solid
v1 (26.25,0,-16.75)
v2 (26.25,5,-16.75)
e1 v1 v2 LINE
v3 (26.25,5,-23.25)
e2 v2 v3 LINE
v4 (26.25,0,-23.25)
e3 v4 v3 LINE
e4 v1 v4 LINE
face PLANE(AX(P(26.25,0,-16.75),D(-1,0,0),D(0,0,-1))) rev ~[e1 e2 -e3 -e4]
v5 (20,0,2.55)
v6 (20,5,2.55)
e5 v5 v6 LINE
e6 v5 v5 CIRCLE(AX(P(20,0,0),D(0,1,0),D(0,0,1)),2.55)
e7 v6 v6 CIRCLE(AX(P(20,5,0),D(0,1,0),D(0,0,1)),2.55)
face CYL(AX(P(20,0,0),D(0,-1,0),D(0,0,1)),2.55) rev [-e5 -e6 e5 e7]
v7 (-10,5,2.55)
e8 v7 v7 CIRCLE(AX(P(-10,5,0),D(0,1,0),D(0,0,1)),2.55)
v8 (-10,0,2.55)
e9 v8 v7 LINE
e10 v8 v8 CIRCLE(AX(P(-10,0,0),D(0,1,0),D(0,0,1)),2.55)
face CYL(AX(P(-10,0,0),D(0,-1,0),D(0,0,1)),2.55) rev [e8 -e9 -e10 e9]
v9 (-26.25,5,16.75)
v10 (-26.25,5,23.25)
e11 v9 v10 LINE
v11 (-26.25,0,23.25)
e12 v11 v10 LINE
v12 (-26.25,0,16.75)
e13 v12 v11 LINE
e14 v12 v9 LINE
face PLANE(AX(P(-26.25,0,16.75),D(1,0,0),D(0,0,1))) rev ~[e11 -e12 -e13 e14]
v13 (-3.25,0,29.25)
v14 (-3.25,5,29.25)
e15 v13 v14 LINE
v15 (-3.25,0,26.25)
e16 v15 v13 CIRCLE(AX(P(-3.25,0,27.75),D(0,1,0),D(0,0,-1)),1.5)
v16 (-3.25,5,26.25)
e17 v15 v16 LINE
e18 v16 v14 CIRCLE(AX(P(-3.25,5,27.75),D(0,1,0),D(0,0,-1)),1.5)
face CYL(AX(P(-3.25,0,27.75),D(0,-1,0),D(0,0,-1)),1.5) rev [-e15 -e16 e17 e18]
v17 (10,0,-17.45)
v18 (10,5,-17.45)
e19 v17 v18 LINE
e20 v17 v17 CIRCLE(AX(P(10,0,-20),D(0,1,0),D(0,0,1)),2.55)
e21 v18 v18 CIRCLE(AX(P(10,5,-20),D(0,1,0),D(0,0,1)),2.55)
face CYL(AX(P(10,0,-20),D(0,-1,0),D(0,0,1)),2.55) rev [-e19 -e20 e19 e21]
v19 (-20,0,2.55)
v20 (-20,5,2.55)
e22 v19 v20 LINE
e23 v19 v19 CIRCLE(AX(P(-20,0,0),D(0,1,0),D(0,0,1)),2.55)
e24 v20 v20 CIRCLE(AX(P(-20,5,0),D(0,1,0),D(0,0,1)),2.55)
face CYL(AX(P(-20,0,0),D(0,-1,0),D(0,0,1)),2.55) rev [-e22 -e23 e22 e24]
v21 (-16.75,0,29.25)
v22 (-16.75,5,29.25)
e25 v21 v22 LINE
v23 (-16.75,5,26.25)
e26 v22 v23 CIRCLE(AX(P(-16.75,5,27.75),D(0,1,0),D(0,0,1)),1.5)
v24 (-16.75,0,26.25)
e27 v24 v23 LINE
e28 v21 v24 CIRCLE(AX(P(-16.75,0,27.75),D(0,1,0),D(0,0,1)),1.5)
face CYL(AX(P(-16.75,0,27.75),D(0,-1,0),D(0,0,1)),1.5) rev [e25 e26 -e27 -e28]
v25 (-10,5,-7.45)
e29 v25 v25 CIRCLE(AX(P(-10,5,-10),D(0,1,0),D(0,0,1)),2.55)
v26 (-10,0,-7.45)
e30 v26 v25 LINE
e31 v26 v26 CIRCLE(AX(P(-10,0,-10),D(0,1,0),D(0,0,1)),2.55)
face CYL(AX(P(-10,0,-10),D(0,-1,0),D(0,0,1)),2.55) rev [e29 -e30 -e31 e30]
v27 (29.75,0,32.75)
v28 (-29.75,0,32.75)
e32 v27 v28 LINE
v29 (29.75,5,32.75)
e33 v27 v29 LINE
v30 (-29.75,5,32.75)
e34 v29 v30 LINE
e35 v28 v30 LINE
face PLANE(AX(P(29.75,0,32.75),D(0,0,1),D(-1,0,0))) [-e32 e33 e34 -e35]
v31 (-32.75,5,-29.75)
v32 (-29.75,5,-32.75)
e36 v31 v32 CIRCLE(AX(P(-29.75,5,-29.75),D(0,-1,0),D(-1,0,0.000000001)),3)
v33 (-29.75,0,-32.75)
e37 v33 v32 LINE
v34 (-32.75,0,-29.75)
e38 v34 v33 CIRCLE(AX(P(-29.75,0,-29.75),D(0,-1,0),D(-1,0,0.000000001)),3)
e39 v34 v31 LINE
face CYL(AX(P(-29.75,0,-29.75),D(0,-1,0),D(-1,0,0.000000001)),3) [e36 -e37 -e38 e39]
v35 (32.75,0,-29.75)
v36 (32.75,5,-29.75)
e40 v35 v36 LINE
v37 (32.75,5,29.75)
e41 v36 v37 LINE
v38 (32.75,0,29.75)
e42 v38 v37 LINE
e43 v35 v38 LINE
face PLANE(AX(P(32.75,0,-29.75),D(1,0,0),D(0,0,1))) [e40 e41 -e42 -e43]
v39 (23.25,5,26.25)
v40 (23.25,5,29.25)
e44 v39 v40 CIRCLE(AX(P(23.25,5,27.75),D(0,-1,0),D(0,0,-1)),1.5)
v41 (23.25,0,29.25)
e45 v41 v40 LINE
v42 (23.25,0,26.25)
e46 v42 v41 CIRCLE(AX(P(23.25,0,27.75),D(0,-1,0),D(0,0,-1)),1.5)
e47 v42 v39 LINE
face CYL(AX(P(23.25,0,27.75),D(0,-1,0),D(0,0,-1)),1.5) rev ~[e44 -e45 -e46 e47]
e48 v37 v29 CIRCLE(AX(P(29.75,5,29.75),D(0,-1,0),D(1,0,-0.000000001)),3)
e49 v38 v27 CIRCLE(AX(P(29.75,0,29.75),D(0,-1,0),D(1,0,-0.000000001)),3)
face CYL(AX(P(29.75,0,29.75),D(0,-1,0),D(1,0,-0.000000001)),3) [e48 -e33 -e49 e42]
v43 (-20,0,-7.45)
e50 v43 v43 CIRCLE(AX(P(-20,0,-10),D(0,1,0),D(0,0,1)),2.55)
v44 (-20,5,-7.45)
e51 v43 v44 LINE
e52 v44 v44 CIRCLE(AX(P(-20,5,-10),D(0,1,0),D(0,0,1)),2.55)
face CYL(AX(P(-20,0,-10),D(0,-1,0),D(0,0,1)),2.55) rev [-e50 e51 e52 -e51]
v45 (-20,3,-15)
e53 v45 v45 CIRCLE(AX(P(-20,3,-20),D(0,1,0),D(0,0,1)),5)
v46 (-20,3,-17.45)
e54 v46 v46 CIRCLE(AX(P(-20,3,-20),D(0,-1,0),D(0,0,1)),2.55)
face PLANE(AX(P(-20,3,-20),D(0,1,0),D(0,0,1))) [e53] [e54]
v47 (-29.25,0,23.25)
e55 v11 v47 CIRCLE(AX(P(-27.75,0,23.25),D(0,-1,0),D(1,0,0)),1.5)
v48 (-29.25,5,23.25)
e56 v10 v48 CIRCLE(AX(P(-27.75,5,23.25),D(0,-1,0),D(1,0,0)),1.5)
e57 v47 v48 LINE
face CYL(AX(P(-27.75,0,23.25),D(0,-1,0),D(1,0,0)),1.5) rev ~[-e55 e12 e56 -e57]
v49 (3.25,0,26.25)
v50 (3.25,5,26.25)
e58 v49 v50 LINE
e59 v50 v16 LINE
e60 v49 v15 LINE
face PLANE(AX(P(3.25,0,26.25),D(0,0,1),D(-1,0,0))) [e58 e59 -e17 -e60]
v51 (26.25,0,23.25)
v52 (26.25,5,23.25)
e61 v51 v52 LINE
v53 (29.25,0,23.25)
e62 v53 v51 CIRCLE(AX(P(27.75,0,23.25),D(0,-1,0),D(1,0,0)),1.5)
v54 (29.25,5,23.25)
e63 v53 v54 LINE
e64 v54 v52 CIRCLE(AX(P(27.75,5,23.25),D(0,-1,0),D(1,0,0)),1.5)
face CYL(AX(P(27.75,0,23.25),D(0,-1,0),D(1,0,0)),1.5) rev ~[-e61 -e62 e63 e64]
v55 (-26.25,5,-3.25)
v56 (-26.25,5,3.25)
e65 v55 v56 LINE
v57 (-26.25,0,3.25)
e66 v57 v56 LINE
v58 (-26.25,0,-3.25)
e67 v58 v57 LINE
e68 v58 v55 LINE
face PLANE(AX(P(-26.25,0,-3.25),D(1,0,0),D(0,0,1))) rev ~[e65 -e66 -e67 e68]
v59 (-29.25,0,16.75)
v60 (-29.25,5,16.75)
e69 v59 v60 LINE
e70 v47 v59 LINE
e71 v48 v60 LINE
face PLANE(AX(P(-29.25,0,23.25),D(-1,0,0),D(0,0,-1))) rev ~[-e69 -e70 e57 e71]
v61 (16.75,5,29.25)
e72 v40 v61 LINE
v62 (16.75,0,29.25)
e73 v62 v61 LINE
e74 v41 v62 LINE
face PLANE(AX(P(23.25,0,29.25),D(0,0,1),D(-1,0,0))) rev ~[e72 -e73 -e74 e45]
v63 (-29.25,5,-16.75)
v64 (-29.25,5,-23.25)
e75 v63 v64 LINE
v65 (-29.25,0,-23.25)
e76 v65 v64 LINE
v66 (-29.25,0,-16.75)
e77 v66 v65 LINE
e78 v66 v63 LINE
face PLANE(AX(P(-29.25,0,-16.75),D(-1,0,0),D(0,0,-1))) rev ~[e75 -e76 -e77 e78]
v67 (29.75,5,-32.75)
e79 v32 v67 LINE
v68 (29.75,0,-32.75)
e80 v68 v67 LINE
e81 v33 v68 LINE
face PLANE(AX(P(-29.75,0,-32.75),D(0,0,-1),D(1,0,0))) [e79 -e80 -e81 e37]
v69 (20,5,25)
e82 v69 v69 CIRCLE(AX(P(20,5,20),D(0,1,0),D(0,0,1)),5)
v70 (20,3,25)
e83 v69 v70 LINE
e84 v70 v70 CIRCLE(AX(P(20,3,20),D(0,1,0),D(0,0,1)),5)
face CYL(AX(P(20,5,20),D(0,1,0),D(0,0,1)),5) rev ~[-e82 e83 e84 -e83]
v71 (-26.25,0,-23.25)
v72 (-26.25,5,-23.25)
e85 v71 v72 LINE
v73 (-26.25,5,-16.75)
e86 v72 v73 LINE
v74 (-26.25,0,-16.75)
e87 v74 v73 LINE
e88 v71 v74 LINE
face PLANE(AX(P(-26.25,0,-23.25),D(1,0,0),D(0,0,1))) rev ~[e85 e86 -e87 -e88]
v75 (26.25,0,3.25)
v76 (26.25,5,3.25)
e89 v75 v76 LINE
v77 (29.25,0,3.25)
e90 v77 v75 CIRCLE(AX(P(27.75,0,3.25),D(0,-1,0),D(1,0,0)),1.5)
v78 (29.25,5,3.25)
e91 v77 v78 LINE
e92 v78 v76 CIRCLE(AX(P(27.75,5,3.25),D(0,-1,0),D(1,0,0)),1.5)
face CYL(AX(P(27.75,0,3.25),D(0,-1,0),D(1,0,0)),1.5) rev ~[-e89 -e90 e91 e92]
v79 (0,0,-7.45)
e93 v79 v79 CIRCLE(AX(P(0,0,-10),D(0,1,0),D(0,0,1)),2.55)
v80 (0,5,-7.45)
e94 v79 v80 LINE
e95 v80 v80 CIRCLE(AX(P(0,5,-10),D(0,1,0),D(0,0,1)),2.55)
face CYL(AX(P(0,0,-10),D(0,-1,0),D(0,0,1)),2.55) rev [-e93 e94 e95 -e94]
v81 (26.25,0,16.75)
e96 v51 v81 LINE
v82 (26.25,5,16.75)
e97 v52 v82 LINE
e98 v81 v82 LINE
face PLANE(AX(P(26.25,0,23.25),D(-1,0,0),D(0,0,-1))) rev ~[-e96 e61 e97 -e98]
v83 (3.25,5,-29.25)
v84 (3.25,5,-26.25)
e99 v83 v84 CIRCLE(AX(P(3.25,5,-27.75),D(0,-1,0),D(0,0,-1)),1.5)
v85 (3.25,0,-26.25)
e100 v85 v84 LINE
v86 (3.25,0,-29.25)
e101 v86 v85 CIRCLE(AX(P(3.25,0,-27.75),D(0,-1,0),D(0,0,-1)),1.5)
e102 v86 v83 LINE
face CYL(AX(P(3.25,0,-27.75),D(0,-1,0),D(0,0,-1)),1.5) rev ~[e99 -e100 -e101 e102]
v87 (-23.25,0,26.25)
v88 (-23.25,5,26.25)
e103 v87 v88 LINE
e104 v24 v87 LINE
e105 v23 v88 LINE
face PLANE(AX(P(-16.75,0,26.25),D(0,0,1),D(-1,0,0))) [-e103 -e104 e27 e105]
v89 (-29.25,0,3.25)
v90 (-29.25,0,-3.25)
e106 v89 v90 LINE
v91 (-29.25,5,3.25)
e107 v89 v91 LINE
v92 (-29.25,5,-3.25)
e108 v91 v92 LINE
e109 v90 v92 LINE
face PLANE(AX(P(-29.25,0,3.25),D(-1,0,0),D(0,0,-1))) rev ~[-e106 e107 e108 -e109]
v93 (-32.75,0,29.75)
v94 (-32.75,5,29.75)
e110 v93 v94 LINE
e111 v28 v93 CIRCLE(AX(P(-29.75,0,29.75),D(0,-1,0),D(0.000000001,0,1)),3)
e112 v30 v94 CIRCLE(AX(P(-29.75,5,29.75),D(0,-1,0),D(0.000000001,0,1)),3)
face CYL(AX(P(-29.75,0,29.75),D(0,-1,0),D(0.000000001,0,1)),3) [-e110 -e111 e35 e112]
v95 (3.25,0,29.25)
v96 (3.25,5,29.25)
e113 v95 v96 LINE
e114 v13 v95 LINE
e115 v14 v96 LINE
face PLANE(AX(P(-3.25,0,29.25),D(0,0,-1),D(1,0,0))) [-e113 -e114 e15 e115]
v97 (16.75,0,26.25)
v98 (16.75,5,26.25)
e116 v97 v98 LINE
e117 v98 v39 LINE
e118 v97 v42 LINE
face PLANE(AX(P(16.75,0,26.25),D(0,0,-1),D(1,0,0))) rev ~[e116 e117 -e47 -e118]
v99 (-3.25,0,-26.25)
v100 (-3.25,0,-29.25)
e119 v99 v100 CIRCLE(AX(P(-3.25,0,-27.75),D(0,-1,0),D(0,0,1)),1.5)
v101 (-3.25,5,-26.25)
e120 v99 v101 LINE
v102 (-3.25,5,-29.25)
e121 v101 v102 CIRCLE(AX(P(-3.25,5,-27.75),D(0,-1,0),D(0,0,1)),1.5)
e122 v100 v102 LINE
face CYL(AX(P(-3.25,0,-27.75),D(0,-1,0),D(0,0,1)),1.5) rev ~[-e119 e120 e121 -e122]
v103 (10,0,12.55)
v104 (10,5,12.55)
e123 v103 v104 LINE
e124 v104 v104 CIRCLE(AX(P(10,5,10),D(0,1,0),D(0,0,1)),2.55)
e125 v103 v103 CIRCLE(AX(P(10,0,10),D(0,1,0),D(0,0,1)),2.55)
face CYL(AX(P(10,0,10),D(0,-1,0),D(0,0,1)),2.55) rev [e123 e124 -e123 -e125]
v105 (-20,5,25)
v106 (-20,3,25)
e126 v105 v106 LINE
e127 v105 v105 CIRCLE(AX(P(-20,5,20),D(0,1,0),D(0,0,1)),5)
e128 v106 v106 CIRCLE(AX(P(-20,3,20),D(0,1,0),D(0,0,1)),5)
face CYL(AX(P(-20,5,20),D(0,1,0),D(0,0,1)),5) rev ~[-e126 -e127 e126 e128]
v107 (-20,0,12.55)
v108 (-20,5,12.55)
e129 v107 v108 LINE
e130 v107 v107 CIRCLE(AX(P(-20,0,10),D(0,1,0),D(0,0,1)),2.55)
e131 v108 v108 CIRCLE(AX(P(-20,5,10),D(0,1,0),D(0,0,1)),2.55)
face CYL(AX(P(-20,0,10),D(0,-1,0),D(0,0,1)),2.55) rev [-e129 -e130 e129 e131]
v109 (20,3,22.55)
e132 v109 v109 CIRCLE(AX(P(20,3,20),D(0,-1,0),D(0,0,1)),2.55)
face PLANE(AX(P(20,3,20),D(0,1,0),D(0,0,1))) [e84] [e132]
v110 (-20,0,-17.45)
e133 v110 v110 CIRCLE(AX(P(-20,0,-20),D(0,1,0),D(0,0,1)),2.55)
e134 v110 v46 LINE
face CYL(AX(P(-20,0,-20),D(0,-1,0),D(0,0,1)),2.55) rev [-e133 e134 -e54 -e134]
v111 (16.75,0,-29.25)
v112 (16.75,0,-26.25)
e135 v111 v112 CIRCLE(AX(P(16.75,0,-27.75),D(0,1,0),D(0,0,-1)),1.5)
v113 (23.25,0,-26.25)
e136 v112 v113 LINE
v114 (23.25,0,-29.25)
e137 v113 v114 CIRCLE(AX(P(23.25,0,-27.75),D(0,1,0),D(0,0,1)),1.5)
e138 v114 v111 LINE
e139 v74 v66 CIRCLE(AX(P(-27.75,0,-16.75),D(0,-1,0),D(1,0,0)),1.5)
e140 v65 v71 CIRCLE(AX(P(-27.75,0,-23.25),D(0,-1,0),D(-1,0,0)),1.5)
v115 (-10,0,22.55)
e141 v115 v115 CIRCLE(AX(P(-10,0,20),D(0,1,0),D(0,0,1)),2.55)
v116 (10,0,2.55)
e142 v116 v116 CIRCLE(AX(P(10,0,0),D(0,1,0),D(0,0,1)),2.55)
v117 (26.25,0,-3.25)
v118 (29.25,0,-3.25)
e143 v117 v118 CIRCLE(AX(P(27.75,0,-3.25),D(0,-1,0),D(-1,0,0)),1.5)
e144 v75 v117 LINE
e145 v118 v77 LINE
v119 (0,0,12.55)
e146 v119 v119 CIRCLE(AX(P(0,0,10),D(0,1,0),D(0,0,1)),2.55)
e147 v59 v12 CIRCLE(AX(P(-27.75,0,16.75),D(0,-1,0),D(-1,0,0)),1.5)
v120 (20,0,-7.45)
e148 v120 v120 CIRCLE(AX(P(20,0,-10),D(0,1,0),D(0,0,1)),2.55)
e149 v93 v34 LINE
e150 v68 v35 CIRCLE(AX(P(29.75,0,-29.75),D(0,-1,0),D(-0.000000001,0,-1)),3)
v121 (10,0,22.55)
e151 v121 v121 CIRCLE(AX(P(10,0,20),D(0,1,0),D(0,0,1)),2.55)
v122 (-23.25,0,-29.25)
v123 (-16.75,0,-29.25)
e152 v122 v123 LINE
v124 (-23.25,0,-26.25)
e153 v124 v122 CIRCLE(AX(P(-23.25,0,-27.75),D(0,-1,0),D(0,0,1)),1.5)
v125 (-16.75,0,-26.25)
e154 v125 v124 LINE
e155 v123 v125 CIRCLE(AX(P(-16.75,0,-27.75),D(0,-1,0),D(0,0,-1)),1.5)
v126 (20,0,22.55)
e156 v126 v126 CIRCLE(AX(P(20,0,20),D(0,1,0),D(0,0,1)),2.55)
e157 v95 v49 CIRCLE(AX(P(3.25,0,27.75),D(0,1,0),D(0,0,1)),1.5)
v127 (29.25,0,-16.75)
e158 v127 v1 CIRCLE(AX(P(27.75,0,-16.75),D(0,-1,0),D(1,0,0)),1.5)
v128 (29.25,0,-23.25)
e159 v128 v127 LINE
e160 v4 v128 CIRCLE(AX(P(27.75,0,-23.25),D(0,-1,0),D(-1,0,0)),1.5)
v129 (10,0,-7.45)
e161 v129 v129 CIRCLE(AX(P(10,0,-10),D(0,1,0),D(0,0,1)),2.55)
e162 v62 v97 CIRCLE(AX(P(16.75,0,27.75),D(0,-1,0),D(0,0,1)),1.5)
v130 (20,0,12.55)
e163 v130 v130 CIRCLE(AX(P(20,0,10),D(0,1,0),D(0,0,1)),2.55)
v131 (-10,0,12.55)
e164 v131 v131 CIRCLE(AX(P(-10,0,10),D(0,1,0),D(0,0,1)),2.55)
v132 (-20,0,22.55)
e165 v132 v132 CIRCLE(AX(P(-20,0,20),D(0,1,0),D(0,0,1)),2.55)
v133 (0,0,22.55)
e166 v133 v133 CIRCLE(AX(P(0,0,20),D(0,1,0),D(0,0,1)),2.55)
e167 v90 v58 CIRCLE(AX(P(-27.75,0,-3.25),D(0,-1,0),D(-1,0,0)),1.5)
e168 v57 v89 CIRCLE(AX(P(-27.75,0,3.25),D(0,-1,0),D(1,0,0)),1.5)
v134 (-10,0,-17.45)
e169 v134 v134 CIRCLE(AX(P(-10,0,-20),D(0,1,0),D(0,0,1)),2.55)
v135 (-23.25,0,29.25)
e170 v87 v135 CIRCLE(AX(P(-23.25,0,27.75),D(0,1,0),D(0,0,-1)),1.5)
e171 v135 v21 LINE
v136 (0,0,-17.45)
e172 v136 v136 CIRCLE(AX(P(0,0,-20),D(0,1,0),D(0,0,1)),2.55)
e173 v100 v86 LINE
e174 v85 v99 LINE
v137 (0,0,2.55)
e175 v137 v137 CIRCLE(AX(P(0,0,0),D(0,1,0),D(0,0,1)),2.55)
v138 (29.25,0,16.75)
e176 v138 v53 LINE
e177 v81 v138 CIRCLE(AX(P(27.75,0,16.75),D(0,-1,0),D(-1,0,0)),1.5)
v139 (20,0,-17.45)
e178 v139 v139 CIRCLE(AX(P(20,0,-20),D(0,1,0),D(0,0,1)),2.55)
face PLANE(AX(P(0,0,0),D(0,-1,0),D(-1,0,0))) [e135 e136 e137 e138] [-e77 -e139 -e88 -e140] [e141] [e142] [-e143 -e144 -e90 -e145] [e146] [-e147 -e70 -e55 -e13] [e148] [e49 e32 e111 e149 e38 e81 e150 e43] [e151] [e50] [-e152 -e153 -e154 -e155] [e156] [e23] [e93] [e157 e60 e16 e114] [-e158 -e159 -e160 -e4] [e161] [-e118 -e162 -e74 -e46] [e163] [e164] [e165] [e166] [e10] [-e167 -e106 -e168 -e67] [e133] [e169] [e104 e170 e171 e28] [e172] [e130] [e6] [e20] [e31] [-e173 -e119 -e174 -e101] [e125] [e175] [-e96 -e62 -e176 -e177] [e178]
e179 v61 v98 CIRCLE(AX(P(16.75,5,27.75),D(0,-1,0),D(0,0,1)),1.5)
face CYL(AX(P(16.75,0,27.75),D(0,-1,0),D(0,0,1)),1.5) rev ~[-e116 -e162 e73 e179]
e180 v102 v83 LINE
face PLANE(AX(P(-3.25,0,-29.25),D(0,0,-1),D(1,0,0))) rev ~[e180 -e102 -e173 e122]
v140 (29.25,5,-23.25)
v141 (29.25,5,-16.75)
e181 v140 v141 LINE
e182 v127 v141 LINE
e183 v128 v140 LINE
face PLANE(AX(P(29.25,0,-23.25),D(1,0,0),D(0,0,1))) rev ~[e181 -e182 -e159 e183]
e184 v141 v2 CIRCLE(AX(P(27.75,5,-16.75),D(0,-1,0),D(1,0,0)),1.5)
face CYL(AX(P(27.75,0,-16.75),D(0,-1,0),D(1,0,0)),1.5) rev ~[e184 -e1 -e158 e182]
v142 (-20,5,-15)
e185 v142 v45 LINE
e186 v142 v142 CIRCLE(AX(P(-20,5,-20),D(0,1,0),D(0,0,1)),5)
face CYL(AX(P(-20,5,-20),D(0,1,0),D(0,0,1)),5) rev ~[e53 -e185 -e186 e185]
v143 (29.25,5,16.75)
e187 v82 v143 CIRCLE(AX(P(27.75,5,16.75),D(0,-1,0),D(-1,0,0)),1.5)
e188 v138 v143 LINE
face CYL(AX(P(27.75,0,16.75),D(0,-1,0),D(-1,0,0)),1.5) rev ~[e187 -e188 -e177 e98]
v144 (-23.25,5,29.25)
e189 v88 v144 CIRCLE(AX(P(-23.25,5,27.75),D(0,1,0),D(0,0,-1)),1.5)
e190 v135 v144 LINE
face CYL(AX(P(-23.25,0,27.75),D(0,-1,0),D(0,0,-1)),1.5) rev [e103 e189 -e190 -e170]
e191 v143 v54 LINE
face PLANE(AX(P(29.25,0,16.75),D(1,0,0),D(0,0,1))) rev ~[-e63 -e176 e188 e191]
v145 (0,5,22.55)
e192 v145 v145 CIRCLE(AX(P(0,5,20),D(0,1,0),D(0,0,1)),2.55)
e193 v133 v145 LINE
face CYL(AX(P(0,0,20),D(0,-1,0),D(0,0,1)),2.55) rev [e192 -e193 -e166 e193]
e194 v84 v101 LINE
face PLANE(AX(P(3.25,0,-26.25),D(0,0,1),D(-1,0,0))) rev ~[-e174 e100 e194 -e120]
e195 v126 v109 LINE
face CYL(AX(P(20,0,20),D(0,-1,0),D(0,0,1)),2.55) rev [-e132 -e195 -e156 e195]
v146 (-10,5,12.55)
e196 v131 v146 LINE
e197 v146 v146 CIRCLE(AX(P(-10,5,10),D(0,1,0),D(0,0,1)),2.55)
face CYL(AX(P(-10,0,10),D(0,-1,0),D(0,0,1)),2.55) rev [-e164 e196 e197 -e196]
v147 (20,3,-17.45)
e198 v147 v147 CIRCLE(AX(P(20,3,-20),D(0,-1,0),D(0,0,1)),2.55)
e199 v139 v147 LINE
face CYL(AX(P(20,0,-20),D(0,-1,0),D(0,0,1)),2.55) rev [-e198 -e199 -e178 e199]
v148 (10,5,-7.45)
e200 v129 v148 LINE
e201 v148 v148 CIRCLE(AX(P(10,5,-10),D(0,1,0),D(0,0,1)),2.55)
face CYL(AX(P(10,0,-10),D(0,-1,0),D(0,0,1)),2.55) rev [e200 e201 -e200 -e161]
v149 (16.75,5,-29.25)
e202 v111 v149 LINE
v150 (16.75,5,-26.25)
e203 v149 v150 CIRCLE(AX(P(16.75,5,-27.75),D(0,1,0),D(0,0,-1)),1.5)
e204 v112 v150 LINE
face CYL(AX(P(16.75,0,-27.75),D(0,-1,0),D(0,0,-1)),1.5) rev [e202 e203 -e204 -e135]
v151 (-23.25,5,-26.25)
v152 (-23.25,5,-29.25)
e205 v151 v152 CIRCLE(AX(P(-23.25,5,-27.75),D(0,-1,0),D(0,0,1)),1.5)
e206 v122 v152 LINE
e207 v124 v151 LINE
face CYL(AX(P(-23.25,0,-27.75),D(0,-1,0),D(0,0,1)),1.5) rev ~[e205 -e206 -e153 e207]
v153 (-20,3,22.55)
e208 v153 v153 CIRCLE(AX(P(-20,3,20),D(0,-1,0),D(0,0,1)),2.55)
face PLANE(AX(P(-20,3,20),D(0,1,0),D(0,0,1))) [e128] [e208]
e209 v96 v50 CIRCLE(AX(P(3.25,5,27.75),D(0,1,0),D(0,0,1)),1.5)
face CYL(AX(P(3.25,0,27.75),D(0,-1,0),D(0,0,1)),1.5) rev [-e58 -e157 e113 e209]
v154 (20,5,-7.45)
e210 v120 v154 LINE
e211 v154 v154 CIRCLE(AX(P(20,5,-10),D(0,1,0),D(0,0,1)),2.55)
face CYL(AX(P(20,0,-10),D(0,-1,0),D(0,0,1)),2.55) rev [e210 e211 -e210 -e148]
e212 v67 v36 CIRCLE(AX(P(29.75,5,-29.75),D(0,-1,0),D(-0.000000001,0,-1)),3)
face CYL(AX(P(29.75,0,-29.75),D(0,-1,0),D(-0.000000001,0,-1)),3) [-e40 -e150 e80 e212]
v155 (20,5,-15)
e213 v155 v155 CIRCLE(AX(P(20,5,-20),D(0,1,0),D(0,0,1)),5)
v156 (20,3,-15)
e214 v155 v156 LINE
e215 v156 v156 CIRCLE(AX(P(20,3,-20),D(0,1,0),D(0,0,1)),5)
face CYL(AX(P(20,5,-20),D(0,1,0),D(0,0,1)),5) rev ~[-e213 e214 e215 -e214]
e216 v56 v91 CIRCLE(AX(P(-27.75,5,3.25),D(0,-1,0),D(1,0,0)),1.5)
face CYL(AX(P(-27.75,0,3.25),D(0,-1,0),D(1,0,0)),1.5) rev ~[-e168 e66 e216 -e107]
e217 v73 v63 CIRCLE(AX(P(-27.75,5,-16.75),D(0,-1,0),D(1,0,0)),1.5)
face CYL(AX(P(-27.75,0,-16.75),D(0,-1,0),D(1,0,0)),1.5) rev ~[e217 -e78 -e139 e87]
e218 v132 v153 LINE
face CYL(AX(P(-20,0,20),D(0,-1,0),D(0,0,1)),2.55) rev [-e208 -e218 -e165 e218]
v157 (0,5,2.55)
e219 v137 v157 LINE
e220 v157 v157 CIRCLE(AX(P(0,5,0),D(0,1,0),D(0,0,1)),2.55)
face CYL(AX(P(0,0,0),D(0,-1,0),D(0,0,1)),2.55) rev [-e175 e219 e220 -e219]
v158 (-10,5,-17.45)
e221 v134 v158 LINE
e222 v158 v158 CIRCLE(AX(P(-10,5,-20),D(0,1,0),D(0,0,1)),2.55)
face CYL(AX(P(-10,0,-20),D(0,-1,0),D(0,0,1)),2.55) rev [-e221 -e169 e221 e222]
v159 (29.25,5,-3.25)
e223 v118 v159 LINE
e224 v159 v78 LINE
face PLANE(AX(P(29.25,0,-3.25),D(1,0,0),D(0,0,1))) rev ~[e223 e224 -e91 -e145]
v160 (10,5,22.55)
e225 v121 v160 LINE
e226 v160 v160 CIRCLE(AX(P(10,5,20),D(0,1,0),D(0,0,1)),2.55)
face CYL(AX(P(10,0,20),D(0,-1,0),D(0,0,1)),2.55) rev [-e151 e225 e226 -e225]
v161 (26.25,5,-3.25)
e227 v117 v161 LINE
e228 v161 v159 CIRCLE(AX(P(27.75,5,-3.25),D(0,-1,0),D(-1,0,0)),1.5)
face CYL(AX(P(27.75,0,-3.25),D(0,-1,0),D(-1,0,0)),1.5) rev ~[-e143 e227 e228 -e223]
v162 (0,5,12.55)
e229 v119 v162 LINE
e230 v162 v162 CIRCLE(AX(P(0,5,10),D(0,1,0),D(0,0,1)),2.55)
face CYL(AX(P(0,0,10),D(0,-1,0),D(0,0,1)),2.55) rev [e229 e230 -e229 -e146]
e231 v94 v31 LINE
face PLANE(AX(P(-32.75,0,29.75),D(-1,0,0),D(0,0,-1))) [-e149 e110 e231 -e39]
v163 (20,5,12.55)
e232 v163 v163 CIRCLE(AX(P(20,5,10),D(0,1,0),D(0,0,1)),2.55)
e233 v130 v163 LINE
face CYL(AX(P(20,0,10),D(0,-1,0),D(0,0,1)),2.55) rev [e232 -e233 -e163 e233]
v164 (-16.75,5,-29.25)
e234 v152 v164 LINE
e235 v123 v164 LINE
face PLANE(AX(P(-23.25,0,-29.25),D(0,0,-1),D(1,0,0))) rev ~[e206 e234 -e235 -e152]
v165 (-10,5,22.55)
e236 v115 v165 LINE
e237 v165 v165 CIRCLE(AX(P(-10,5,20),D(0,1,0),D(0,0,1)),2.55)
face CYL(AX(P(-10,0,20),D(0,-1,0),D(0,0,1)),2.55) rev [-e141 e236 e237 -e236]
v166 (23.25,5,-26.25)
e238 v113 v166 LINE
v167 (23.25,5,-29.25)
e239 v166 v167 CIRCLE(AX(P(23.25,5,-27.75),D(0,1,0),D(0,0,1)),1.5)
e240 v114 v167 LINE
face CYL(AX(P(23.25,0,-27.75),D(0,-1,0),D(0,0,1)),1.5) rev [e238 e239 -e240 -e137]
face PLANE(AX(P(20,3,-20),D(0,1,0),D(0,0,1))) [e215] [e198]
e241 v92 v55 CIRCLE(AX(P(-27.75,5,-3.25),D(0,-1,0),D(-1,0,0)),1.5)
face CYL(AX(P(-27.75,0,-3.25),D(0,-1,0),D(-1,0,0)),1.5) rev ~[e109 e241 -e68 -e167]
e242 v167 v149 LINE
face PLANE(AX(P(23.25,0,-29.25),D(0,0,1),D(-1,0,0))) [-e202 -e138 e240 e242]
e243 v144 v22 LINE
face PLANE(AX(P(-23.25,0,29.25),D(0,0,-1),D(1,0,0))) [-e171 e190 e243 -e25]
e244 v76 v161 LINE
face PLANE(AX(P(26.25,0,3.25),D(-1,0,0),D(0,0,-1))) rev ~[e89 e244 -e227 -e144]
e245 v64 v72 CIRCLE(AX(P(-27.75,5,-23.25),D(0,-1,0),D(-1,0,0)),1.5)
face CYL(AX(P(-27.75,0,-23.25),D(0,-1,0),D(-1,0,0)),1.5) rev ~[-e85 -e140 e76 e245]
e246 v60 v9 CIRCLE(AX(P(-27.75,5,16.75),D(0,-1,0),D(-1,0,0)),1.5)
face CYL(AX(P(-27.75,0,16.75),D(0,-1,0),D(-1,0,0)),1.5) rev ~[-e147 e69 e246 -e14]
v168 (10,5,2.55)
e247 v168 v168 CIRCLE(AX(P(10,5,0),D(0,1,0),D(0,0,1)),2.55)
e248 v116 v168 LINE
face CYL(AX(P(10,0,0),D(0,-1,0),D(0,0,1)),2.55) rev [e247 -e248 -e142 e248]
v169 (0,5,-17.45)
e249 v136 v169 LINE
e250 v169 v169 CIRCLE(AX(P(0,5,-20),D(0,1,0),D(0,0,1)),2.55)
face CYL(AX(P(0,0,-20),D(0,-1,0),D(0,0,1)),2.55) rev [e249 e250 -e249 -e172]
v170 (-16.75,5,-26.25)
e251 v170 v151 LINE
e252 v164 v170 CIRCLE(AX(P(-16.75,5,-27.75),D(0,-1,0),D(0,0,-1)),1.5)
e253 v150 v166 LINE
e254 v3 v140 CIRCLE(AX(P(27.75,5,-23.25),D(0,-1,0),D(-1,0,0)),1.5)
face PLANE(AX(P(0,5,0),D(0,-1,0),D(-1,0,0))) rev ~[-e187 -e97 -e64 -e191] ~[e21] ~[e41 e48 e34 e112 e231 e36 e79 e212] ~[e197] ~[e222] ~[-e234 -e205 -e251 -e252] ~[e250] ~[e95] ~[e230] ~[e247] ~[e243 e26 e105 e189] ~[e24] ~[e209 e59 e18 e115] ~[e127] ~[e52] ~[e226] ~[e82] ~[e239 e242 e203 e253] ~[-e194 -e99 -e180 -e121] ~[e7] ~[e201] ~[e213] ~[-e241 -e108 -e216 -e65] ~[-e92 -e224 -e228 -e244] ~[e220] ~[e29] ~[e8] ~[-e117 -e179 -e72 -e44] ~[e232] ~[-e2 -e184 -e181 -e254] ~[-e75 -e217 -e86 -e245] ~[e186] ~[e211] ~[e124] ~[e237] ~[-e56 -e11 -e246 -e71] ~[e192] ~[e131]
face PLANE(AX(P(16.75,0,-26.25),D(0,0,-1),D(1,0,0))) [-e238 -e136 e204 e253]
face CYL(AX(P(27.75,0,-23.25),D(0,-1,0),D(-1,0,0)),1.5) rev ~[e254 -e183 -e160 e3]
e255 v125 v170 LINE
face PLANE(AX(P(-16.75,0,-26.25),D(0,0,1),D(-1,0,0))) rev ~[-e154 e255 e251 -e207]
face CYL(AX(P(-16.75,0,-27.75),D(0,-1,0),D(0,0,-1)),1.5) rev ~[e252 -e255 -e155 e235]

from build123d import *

# Parameters (mm, degrees)
SKETCH1_R           = 2.55
BOSS_EXTRUDE1_DEPTH = 5
SKETCH_4_R          = 5
CUT_EXTRUDE_1_DEPTH = 2


with BuildPart() as part:
    # Sketch1 → Boss-Extrude1 (new body)
    with BuildSketch(Plane(origin=(0, 0, 0), x_dir=(1, 0, 0), z_dir=(0, 1, 0))):
        with BuildLine():
            Line((29.75, -32.75), (-29.75, -32.75))
            ThreePointArc((-29.75, -32.75), (-31.871320344, -31.871320344), (-32.75, -29.75))
            Line((-32.75, -29.75), (-32.75, 29.75))
            ThreePointArc((-32.75, 29.75), (-31.871320344, 31.871320344), (-29.75, 32.75))
            Line((-29.75, 32.75), (29.75, 32.75))
            ThreePointArc((29.75, 32.75), (31.871320344, 31.871320344), (32.75, 29.75))
            Line((32.75, 29.75), (32.75, -29.75))
            ThreePointArc((32.75, -29.75), (31.871320344, -31.871320344), (29.75, -32.75))
        make_face()
        with Locations(Location((0, 0, 0), (0, 0, 270))):
            Circle(SKETCH1_R, mode=Mode.SUBTRACT)
        with Locations(Location((10, -10, 0), (0, 0, 270))):
            Circle(SKETCH1_R, mode=Mode.SUBTRACT)
        with Locations(Location((20, -10, 0), (0, 0, 270))):
            Circle(SKETCH1_R, mode=Mode.SUBTRACT)
        with Locations(Location((10, -20, 0), (0, 0, 270))):
            Circle(SKETCH1_R, mode=Mode.SUBTRACT)
        with Locations(Location((20, -20, 0), (0, 0, 270))):
            Circle(SKETCH1_R, mode=Mode.SUBTRACT)
        with Locations(Location((-10, -10, 0), (0, 0, 270))):
            Circle(SKETCH1_R, mode=Mode.SUBTRACT)
        with Locations(Location((-20, -10, 0), (0, 0, 270))):
            Circle(SKETCH1_R, mode=Mode.SUBTRACT)
        with Locations(Location((-10, -20, 0), (0, 0, 270))):
            Circle(SKETCH1_R, mode=Mode.SUBTRACT)
        with Locations(Location((-20, -20, 0), (0, 0, 270))):
            Circle(SKETCH1_R, mode=Mode.SUBTRACT)
        with Locations(Location((0, -10, 0), (0, 0, 270))):
            Circle(SKETCH1_R, mode=Mode.SUBTRACT)
        with Locations(Location((0, -20, 0), (0, 0, 270))):
            Circle(SKETCH1_R, mode=Mode.SUBTRACT)
        with Locations(Location((10, 0, 0), (0, 0, 270))):
            Circle(SKETCH1_R, mode=Mode.SUBTRACT)
        with Locations(Location((20, 0, 0), (0, 0, 270))):
            Circle(SKETCH1_R, mode=Mode.SUBTRACT)
        with Locations(Location((10, 10, 0), (0, 0, 270))):
            Circle(SKETCH1_R, mode=Mode.SUBTRACT)
        with Locations(Location((20, 10, 0), (0, 0, 270))):
            Circle(SKETCH1_R, mode=Mode.SUBTRACT)
        with Locations(Location((10, 20, 0), (0, 0, 270))):
            Circle(SKETCH1_R, mode=Mode.SUBTRACT)
        with Locations(Location((20, 20, 0), (0, 0, 270))):
            Circle(SKETCH1_R, mode=Mode.SUBTRACT)
        with Locations(Location((-10, 0, 0), (0, 0, 270))):
            Circle(SKETCH1_R, mode=Mode.SUBTRACT)
        with Locations(Location((-20, 0, 0), (0, 0, 270))):
            Circle(SKETCH1_R, mode=Mode.SUBTRACT)
        with Locations(Location((-10, 10, 0), (0, 0, 270))):
            Circle(SKETCH1_R, mode=Mode.SUBTRACT)
        with Locations(Location((-20, 10, 0), (0, 0, 270))):
            Circle(SKETCH1_R, mode=Mode.SUBTRACT)
        with Locations(Location((-10, 20, 0), (0, 0, 270))):
            Circle(SKETCH1_R, mode=Mode.SUBTRACT)
        with Locations(Location((-20, 20, 0), (0, 0, 270))):
            Circle(SKETCH1_R, mode=Mode.SUBTRACT)
        with Locations(Location((0, 10, 0), (0, 0, 270))):
            Circle(SKETCH1_R, mode=Mode.SUBTRACT)
        with Locations(Location((0, 20, 0), (0, 0, 270))):
            Circle(SKETCH1_R, mode=Mode.SUBTRACT)
        with BuildLine():
            Line((-29.25, 16.75), (-29.25, 23.25))
            ThreePointArc((-29.25, 23.25), (-27.75, 24.75), (-26.25, 23.25))
            Line((-26.25, 23.25), (-26.25, 16.75))
            ThreePointArc((-26.25, 16.75), (-27.75, 15.25), (-29.25, 16.75))
        make_face(mode=Mode.SUBTRACT)
        with BuildLine():
            Line((26.25, 16.75), (26.25, 23.25))
            ThreePointArc((26.25, 23.25), (27.75, 24.75), (29.25, 23.25))
            Line((29.25, 23.25), (29.25, 16.75))
            ThreePointArc((29.25, 16.75), (27.75, 15.25), (26.25, 16.75))
        make_face(mode=Mode.SUBTRACT)
        with BuildLine():
            Line((3.25, 26.25), (-3.25, 26.25))
            ThreePointArc((-3.25, 26.25), (-4.75, 27.75), (-3.25, 29.25))
            Line((-3.25, 29.25), (3.25, 29.25))
            ThreePointArc((3.25, 29.25), (4.75, 27.75), (3.25, 26.25))
        make_face(mode=Mode.SUBTRACT)
        with BuildLine():
            Line((-16.75, 26.25), (-23.25, 26.25))
            ThreePointArc((-23.25, 26.25), (-24.75, 27.75), (-23.25, 29.25))
            Line((-23.25, 29.25), (-16.75, 29.25))
            ThreePointArc((-16.75, 29.25), (-15.25, 27.75), (-16.75, 26.25))
        make_face(mode=Mode.SUBTRACT)
        with BuildLine():
            Line((16.75, 26.25), (23.25, 26.25))
            ThreePointArc((23.25, 26.25), (24.75, 27.75), (23.25, 29.25))
            Line((23.25, 29.25), (16.75, 29.25))
            ThreePointArc((16.75, 29.25), (15.25, 27.75), (16.75, 26.25))
        make_face(mode=Mode.SUBTRACT)
        with BuildLine():
            Line((26.25, -3.25), (26.25, 3.25))
            ThreePointArc((26.25, 3.25), (27.75, 4.75), (29.25, 3.25))
            Line((29.25, 3.25), (29.25, -3.25))
            ThreePointArc((29.25, -3.25), (27.75, -4.75), (26.25, -3.25))
        make_face(mode=Mode.SUBTRACT)
        with BuildLine():
            Line((-16.75, -26.25), (-23.25, -26.25))
            ThreePointArc((-23.25, -26.25), (-24.75, -27.75), (-23.25, -29.25))
            Line((-23.25, -29.25), (-16.75, -29.25))
            ThreePointArc((-16.75, -29.25), (-15.25, -27.75), (-16.75, -26.25))
        make_face(mode=Mode.SUBTRACT)
        with BuildLine():
            Line((3.25, -26.25), (-3.25, -26.25))
            ThreePointArc((-3.25, -26.25), (-4.75, -27.75), (-3.25, -29.25))
            Line((-3.25, -29.25), (3.25, -29.25))
            ThreePointArc((3.25, -29.25), (4.75, -27.75), (3.25, -26.25))
        make_face(mode=Mode.SUBTRACT)
        with BuildLine():
            Line((16.75, -26.25), (23.25, -26.25))
            ThreePointArc((23.25, -26.25), (24.75, -27.75), (23.25, -29.25))
            Line((23.25, -29.25), (16.75, -29.25))
            ThreePointArc((16.75, -29.25), (15.25, -27.75), (16.75, -26.25))
        make_face(mode=Mode.SUBTRACT)
        with BuildLine():
            Line((26.25, -23.25), (26.25, -16.75))
            ThreePointArc((26.25, -16.75), (27.75, -15.25), (29.25, -16.75))
            Line((29.25, -16.75), (29.25, -23.25))
            ThreePointArc((29.25, -23.25), (27.75, -24.75), (26.25, -23.25))
        make_face(mode=Mode.SUBTRACT)
        with BuildLine():
            Line((-29.25, -3.25), (-29.25, 3.25))
            ThreePointArc((-29.25, 3.25), (-27.75, 4.75), (-26.25, 3.25))
            Line((-26.25, 3.25), (-26.25, -3.25))
            ThreePointArc((-26.25, -3.25), (-27.75, -4.75), (-29.25, -3.25))
        make_face(mode=Mode.SUBTRACT)
        with BuildLine():
            Line((-29.25, -23.25), (-29.25, -16.75))
            ThreePointArc((-29.25, -16.75), (-27.75, -15.25), (-26.25, -16.75))
            Line((-26.25, -16.75), (-26.25, -23.25))
            ThreePointArc((-26.25, -23.25), (-27.75, -24.75), (-29.25, -23.25))
        make_face(mode=Mode.SUBTRACT)
    extrude(amount=BOSS_EXTRUDE1_DEPTH)

    # 草圖4 → 除料-伸長1 (cut)
    with BuildSketch(Plane(origin=(0, 5, 0), x_dir=(1, 0, 0), z_dir=(0, 1, 0))):
        with Locations(Location((-20, -20, 0), (0, 0, 270))):
            Circle(SKETCH_4_R)
        with Locations(Location((20, -20, 0), (0, 0, 270))):
            Circle(SKETCH_4_R)
        with Locations(Location((20, 20, 0), (0, 0, 270))):
            Circle(SKETCH_4_R)
        with Locations(Location((-20, 20, 0), (0, 0, 270))):
            Circle(SKETCH_4_R)
    extrude(amount=-CUT_EXTRUDE_1_DEPTH, mode=Mode.SUBTRACT)


solid = part.part
